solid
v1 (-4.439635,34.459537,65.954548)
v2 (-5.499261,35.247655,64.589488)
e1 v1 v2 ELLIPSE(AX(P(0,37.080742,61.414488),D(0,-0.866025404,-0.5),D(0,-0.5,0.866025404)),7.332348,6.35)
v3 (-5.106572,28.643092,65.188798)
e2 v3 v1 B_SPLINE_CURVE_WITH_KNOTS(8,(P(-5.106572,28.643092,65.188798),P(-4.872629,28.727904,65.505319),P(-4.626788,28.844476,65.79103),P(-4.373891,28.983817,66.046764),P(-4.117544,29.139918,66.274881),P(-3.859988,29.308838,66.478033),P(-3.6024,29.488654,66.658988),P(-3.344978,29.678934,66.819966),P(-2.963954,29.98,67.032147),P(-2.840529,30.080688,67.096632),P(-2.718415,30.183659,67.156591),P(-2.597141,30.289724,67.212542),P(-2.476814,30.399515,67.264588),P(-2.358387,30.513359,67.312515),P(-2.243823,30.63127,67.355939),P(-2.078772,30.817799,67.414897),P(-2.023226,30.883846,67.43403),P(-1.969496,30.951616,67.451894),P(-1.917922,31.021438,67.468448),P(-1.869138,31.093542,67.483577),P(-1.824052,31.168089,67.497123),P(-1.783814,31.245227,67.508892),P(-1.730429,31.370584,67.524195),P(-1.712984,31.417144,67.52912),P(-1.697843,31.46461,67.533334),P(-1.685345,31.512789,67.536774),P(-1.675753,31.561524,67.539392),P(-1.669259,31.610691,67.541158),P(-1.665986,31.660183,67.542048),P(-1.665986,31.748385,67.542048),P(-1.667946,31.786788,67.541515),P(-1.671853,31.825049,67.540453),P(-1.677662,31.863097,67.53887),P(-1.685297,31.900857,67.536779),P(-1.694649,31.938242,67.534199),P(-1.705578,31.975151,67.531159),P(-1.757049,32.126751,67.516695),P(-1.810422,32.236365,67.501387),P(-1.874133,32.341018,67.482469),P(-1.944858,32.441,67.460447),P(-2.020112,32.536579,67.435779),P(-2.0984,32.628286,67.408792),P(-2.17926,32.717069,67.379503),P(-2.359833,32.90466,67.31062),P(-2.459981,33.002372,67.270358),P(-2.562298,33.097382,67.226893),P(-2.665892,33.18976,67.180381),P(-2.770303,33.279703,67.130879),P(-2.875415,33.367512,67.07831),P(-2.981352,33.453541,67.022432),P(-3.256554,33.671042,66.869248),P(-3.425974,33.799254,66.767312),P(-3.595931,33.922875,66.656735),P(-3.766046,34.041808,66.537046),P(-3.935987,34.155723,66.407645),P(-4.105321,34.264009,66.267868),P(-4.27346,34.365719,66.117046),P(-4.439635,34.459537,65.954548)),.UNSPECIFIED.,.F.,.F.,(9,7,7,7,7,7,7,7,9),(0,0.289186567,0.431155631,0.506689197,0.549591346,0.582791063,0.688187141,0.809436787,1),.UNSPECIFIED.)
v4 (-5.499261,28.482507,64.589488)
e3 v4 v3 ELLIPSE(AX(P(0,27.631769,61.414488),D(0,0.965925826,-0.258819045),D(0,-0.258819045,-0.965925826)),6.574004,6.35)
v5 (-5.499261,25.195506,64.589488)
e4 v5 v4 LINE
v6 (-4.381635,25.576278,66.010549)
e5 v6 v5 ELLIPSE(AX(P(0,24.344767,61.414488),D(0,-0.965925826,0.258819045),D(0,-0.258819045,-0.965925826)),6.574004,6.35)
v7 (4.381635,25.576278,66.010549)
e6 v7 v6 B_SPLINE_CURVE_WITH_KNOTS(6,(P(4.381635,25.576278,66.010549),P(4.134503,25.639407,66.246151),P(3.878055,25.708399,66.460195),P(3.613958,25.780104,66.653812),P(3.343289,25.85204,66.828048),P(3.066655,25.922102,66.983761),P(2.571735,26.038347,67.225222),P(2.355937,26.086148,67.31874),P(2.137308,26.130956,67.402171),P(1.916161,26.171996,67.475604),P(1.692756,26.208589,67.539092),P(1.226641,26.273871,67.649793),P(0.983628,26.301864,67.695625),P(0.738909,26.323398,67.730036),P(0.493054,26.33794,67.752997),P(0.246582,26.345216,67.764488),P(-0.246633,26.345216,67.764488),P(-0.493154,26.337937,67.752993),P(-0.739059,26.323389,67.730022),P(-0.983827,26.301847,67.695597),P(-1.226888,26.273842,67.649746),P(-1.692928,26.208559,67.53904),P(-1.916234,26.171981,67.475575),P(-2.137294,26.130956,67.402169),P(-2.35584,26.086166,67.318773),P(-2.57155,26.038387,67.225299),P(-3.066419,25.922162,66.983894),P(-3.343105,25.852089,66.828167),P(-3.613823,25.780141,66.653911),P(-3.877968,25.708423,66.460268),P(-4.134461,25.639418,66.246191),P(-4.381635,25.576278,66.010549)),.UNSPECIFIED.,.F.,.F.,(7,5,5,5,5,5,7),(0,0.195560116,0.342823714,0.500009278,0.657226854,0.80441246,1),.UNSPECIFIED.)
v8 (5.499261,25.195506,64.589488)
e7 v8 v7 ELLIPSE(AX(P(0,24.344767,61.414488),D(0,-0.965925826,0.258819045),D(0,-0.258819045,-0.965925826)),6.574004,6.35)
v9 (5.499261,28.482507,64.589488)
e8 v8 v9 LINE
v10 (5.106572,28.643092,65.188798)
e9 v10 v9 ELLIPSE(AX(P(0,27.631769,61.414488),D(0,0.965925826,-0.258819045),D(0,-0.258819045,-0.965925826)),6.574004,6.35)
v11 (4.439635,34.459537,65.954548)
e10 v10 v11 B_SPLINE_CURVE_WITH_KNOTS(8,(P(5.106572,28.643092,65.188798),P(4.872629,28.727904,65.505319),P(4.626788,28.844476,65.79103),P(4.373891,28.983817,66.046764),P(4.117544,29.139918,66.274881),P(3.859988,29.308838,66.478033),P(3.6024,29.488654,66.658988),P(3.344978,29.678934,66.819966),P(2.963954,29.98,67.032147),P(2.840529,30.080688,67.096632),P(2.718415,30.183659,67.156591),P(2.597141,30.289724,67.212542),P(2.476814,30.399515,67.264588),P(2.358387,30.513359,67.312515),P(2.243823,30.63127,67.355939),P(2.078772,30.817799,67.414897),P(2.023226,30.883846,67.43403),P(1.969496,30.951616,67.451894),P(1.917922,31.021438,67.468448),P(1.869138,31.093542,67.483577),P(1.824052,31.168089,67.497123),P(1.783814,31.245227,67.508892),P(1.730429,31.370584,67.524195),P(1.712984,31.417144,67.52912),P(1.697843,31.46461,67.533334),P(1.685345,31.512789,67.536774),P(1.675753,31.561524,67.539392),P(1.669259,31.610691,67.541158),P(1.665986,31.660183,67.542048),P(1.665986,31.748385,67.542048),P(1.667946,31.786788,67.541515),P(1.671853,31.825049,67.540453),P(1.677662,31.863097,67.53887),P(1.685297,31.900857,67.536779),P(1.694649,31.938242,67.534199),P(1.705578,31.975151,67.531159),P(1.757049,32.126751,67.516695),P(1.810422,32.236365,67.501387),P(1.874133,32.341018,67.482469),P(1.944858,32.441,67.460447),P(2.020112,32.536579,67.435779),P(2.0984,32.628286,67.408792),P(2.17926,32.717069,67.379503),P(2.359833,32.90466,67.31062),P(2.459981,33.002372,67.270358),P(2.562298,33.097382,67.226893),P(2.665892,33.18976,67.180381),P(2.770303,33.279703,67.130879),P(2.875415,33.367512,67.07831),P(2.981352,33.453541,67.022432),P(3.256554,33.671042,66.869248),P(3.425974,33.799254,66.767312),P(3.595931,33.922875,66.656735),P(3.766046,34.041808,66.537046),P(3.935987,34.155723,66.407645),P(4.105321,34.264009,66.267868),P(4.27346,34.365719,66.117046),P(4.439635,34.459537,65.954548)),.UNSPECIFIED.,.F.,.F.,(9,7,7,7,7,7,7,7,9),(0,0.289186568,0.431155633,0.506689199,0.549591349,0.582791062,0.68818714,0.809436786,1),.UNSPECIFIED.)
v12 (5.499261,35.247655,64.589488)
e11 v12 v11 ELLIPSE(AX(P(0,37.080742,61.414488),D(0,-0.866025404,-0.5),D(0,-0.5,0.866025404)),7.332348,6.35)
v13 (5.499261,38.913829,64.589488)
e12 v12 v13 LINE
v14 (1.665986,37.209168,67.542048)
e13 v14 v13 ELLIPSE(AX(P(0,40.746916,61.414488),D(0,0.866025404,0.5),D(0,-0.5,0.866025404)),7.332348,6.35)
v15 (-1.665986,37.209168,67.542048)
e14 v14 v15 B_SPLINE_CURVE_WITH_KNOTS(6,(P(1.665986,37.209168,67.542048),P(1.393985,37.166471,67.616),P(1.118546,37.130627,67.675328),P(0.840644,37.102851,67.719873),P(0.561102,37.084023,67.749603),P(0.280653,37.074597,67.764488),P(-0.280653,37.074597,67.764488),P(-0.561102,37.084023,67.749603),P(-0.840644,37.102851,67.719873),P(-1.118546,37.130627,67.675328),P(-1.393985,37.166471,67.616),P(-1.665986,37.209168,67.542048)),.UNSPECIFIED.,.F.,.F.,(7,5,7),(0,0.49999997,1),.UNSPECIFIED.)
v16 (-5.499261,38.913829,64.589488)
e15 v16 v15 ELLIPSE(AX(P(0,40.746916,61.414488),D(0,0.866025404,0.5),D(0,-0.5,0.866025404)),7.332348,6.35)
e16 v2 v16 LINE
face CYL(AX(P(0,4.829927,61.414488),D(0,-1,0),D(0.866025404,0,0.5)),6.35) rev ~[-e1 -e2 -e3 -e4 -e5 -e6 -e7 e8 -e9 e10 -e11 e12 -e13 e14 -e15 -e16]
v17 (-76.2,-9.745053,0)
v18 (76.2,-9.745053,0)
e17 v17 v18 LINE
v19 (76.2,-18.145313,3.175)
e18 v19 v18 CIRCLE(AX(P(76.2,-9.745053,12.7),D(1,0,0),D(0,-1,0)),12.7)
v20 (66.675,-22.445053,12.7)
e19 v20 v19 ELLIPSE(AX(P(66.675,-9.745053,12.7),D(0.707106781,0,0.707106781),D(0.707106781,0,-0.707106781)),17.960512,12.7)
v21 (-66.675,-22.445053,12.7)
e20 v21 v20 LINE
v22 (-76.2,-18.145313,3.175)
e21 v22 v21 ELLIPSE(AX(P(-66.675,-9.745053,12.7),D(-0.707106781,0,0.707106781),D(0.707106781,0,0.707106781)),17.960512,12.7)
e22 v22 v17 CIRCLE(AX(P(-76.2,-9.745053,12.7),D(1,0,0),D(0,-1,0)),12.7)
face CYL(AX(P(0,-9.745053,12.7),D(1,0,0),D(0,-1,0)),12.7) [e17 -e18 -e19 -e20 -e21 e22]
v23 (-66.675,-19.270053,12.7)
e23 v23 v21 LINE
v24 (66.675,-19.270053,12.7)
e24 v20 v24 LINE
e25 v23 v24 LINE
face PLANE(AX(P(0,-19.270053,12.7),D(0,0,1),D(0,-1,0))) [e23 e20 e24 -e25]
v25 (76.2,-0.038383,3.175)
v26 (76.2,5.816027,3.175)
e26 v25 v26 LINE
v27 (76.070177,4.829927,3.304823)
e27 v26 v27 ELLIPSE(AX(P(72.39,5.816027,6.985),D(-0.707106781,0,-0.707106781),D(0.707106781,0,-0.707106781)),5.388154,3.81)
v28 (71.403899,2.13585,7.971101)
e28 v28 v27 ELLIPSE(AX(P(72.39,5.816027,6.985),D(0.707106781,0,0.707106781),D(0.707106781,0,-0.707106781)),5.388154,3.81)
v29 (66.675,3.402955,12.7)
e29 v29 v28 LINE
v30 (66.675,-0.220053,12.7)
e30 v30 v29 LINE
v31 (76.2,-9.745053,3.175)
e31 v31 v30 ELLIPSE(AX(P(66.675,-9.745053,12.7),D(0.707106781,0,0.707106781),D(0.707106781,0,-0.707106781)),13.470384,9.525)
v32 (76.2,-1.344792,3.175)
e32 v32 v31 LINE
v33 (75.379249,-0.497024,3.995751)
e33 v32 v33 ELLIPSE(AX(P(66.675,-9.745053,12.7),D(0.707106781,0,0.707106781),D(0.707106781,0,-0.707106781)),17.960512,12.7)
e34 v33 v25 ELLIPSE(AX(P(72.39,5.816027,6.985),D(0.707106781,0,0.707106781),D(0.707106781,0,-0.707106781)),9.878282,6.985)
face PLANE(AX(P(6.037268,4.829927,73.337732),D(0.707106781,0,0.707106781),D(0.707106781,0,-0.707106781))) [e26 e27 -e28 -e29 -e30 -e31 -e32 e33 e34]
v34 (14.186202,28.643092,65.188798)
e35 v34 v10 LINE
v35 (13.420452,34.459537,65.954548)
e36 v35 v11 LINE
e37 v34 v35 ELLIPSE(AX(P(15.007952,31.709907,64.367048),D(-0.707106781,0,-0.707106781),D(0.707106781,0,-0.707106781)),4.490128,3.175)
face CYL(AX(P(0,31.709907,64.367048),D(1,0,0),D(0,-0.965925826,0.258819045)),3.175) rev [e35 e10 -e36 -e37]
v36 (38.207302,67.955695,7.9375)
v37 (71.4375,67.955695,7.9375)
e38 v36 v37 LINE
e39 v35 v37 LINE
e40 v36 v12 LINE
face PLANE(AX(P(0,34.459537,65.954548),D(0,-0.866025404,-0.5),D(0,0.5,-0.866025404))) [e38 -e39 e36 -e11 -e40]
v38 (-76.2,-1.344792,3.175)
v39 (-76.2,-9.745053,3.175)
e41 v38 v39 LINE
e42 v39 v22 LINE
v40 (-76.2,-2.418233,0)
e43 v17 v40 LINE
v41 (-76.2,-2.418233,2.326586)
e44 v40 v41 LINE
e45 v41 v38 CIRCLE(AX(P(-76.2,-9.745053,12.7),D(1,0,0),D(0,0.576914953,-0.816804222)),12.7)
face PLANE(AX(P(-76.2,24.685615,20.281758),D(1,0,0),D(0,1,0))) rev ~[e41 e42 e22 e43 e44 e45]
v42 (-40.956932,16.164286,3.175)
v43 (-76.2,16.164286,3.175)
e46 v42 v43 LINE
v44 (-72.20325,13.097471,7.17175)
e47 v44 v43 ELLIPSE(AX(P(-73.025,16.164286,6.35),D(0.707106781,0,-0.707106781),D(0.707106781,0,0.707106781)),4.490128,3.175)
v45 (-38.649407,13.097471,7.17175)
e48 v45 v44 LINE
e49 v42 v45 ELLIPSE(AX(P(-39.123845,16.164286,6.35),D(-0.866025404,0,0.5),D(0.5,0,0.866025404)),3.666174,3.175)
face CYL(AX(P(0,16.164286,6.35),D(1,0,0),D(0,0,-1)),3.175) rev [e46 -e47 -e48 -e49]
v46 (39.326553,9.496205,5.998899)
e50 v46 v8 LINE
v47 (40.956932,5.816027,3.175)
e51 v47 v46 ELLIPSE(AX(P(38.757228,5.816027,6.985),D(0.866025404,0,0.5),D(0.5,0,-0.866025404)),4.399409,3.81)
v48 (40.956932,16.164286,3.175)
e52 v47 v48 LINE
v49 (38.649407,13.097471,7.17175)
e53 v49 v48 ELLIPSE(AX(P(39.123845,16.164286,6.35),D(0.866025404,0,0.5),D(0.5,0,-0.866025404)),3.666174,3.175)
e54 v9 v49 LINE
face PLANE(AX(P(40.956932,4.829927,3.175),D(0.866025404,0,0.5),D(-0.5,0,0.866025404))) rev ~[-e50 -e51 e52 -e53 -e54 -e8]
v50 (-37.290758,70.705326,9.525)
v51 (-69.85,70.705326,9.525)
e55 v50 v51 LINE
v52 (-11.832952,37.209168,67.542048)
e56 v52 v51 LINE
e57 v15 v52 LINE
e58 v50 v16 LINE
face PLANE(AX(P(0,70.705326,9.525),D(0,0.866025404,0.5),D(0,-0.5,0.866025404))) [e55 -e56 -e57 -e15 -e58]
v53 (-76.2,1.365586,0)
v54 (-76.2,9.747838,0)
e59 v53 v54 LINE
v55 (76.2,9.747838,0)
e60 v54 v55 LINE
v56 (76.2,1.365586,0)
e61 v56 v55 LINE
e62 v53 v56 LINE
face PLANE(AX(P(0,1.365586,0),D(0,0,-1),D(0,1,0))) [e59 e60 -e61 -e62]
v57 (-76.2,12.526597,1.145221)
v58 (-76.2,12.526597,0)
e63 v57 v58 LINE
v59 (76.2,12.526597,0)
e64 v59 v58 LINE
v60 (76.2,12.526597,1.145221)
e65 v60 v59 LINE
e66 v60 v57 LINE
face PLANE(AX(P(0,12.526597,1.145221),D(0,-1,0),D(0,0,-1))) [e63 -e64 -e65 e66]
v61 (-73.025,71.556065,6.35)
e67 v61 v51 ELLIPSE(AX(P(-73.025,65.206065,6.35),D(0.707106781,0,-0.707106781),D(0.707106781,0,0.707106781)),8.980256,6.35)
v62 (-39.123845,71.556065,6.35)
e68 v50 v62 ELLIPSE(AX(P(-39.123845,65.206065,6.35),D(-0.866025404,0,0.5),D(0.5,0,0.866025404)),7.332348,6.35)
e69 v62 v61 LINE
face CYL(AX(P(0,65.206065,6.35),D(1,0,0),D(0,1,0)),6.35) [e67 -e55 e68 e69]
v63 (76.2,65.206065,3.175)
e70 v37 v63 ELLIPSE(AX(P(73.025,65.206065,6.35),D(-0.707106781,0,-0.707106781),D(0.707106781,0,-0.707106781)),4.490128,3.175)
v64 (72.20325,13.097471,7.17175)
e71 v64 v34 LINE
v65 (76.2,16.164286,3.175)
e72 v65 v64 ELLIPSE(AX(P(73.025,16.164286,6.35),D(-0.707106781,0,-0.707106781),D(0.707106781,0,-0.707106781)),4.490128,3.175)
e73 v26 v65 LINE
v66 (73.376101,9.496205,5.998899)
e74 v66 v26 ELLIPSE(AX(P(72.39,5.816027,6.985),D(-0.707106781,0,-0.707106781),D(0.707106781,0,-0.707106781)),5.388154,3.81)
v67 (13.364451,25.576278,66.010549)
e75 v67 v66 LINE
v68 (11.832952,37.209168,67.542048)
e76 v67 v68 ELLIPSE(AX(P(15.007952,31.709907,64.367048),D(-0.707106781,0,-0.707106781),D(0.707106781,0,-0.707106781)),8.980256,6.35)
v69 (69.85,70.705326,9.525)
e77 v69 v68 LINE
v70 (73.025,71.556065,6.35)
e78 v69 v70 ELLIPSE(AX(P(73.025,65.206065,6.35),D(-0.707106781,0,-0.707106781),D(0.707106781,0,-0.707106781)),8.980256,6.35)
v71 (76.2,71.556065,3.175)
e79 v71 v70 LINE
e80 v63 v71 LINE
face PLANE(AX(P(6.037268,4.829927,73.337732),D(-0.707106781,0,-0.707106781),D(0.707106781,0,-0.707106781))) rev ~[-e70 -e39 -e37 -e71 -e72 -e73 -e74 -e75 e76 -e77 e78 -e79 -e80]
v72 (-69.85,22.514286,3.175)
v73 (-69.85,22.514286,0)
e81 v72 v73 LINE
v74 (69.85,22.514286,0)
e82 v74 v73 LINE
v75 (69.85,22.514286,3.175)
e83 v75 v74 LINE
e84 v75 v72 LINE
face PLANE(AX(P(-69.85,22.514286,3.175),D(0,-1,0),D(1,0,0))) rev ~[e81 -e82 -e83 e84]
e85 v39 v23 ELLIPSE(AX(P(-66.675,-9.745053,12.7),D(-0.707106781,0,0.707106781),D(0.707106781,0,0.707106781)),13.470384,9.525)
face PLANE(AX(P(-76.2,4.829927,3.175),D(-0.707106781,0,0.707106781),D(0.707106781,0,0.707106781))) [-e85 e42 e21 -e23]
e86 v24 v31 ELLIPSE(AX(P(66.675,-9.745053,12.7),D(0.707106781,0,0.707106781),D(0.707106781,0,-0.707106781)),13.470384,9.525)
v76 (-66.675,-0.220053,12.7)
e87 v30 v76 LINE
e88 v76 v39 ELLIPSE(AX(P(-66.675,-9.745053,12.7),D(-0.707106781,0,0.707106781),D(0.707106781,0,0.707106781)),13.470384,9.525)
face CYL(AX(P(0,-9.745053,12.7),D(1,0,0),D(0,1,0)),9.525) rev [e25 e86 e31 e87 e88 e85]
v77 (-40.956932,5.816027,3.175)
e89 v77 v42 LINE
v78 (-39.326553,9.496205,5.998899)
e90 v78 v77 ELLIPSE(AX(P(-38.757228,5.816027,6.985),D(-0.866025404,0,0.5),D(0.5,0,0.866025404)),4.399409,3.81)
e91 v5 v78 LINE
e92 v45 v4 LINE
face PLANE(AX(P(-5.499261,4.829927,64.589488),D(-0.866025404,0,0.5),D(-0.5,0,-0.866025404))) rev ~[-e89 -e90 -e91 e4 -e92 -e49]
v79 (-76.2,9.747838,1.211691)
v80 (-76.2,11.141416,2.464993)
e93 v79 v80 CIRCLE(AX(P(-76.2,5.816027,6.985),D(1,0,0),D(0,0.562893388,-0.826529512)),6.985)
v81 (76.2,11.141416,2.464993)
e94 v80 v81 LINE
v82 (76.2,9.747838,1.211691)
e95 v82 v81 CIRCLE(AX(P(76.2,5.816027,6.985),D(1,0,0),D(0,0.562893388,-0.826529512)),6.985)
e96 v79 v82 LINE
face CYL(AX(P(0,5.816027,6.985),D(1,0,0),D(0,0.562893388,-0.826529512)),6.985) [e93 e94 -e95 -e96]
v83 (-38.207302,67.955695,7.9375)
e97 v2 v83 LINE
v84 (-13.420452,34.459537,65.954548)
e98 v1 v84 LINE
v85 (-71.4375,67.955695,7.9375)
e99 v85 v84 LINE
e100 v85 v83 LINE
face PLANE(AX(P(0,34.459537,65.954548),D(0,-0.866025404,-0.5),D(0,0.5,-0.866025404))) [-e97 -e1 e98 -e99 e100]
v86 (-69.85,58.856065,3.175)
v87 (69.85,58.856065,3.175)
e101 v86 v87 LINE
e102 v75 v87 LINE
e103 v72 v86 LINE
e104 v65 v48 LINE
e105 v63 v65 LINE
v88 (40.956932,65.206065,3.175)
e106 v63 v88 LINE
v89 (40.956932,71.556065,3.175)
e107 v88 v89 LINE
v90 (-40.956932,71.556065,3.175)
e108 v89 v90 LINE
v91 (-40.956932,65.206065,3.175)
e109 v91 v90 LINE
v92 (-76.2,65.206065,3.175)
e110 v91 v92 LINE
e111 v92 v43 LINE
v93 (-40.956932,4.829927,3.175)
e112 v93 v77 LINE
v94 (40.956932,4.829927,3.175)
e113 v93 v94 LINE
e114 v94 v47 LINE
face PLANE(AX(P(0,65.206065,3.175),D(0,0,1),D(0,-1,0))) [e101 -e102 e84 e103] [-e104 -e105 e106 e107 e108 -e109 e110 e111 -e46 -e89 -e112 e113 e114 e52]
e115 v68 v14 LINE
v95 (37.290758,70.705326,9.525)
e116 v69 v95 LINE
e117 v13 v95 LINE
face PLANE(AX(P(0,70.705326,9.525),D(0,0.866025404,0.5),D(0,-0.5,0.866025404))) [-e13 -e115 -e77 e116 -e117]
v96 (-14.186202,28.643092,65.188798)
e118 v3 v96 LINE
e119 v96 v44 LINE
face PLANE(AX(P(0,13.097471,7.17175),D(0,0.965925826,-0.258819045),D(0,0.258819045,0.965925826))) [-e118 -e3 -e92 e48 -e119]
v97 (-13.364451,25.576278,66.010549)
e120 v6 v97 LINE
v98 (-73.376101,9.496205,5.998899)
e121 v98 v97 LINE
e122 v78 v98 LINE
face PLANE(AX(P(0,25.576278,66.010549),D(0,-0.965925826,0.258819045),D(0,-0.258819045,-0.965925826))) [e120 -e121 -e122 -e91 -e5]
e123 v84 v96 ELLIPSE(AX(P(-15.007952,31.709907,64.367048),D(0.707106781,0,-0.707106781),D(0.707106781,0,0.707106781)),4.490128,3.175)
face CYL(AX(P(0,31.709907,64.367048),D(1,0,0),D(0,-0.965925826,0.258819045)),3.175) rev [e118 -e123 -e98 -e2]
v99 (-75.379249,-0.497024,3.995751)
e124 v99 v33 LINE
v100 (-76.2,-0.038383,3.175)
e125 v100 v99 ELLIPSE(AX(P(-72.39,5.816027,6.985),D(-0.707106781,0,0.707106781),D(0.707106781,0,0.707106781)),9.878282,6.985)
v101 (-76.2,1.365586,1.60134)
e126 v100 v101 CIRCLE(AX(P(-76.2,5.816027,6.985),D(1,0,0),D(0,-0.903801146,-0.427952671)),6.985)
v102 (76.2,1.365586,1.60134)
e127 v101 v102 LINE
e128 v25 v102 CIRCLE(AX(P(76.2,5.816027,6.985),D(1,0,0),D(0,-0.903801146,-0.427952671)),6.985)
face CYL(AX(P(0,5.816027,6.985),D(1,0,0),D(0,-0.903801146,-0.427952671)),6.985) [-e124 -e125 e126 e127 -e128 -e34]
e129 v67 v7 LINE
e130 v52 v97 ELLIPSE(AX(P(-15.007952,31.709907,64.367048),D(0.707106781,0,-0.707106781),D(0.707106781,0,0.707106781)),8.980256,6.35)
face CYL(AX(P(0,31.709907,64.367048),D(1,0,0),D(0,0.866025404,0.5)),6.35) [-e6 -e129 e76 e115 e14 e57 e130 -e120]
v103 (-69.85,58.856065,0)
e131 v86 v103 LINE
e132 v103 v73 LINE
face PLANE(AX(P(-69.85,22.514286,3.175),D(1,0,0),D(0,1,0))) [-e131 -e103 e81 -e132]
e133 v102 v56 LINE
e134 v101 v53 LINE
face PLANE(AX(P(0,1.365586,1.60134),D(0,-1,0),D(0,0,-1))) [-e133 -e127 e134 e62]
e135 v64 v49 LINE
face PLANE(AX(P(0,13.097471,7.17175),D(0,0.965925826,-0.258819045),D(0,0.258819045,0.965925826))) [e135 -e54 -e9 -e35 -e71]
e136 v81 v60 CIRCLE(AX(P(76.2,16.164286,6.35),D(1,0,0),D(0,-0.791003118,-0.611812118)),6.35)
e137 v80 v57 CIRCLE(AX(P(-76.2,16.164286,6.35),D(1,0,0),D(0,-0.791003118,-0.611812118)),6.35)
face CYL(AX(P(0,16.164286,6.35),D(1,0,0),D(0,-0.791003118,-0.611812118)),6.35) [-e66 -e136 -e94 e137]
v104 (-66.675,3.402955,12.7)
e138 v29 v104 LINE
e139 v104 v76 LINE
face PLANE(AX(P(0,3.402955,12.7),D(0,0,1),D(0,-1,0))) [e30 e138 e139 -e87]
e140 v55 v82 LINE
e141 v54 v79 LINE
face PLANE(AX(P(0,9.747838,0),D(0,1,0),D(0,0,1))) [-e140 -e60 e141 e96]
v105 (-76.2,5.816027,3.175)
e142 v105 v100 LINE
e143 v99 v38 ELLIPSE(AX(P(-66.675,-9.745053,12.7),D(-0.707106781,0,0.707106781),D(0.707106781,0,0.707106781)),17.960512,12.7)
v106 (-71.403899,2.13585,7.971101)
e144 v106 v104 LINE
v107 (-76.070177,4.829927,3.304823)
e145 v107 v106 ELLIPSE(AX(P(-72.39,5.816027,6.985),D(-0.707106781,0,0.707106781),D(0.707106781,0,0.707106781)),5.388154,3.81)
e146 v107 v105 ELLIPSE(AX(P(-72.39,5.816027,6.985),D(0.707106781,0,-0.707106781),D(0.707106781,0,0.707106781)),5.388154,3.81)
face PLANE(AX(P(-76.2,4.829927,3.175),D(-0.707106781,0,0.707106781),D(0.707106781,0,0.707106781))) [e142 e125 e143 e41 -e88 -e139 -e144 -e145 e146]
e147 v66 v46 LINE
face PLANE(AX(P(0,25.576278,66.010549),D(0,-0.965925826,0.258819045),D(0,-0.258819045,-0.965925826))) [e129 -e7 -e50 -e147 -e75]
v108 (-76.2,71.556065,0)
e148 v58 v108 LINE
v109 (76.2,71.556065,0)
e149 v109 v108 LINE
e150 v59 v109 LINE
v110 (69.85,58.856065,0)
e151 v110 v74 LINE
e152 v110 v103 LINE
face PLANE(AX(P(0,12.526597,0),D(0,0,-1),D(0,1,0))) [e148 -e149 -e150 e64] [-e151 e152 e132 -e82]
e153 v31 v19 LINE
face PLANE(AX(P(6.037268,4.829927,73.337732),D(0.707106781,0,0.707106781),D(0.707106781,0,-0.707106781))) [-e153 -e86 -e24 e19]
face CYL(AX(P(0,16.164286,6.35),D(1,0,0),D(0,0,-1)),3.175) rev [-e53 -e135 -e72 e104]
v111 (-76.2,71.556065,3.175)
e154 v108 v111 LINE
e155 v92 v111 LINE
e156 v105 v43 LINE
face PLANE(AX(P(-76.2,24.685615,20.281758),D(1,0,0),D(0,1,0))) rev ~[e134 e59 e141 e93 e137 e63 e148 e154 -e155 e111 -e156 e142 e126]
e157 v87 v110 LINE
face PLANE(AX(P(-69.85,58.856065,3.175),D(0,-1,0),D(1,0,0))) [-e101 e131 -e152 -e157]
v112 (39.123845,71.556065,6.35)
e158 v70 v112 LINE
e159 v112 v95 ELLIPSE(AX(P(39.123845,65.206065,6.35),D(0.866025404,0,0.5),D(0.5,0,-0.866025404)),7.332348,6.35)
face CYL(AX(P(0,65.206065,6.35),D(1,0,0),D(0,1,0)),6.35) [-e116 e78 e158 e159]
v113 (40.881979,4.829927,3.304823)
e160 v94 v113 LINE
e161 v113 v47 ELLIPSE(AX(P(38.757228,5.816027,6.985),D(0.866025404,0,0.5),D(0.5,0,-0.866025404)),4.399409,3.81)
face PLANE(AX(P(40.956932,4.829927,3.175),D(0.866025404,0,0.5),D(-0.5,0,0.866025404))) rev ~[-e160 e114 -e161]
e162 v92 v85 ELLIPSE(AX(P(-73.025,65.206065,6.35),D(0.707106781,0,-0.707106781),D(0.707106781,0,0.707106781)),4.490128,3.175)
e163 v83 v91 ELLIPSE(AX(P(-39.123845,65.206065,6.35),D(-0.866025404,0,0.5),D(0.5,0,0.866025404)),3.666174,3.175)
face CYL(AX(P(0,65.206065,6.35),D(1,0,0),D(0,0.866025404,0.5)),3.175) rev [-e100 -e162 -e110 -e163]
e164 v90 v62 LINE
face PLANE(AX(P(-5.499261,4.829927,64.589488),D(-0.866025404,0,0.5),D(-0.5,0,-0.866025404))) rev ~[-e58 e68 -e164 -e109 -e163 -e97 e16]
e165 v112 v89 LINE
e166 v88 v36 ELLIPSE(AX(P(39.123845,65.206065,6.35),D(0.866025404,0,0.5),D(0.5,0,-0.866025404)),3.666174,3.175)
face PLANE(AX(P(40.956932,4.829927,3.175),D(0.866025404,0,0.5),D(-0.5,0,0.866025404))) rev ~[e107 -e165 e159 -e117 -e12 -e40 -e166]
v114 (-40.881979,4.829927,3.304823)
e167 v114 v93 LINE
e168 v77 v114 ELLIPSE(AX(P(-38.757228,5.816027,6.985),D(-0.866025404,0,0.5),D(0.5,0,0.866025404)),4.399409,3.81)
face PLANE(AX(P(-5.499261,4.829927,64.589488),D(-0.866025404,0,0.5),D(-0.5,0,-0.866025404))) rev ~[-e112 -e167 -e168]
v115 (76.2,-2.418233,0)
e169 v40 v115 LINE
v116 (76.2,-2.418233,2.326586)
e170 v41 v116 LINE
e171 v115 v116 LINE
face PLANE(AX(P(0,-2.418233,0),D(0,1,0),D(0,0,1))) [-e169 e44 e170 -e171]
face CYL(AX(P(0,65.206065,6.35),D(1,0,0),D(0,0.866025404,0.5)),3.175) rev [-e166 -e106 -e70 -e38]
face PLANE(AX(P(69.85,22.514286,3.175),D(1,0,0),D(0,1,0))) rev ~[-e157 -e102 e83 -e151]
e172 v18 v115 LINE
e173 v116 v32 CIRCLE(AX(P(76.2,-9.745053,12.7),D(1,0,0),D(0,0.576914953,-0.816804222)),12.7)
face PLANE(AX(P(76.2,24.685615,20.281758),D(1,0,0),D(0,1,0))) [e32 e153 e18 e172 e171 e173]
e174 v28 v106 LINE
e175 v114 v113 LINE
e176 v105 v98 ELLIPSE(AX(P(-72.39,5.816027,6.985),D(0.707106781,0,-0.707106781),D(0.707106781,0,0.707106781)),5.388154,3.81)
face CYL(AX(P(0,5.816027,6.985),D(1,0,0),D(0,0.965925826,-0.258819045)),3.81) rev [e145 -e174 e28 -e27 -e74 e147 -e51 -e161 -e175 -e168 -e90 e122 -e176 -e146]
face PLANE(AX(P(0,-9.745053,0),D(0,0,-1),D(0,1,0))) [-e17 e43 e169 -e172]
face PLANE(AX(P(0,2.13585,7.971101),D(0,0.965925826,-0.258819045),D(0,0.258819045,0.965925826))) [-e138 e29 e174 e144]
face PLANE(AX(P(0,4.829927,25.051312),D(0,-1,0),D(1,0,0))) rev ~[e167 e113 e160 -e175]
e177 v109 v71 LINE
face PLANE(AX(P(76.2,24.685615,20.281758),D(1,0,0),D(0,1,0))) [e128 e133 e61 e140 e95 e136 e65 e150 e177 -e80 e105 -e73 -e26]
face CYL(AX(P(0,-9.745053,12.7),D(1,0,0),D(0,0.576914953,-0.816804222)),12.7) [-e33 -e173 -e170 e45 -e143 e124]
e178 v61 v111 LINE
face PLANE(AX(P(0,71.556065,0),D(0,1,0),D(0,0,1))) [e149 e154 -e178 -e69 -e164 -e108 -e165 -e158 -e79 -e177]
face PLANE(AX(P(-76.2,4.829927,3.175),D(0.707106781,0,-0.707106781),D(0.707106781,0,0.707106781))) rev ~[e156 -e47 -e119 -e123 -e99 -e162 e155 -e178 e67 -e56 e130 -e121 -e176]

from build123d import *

# Parameters (mm, degrees)
F1_DEPTH      = 76.2
F2_W          = 139.7
F2_H          = 36.3417792003
F3_DEPTH      = 25.4
F7_DEPTH      = 27.275979542
F7_DEPTH_BACK = 66.7271380179
F9_DEPTH      = 66.7271380179


with BuildPart() as f1:
    # F0 (on Right) → F1 (new body, symmetric)
    with BuildSketch(Plane.YZ):
        with BuildLine():
            ThreePointArc((-0.2200527473, 12.7), (-9.7450527473, 3.175), (-19.2700527473, 12.7))
            Line((-19.2700527473, 12.7), (-22.4450527473, 12.7))
            ThreePointArc((-22.4450527473, 12.7), (-18.7253088684, 3.7197438789), (-9.7450527473, 0))
            Line((-9.7450527473, 0), (-2.4182328489, 0))
            Line((-2.4182328489, 0), (-2.4182328489, 2.3265863779))
            ThreePointArc((-2.4182328489, 2.3265863779), (-1.4157111092, 3.1129218281), (-0.4970236472, 3.9957505917))
            ThreePointArc((-0.4970236472, 3.9957505917), (0.3027257677, 2.6962087261), (1.3655856019, 1.6013401678))
            Line((1.3655856019, 1.6013401678), (1.3655856019, 0))
            Line((1.3655856019, 0), (9.7478376701, 0))
            Line((9.7478376701, 0), (9.7478376701, 1.2116913596))
            ThreePointArc((9.7478376701, 1.2116913596), (10.4868542157, 1.7913884), (11.1414158123, 2.4649930537))
            ThreePointArc((11.1414158123, 2.4649930537), (11.784015325, 1.75263856), (12.5265968964, 1.145221349))
            Line((12.5265968964, 1.145221349), (12.5265968964, 0))
            Line((12.5265968964, 0), (16.1642856123, 0))
            Line((16.1642856123, 0), (71.5560648125, 0))
            Line((71.5560648125, 0), (71.5560648125, 6.35))
            ThreePointArc((71.5560648125, 6.35), (71.3396938095, 7.9935009364), (70.7053261266, 9.525))
            Line((70.7053261266, 9.525), (37.2091680094, 67.5420477173))
            ThreePointArc((37.2091680094, 67.5420477173), (30.8810653748, 70.662722587), (25.5762776984, 66.0105486537))
            Line((25.5762776984, 66.0105486537), (9.4962047547, 5.9988994382))
            ThreePointArc((9.4962047547, 5.9988994382), (4.8299267947, 3.3048226018), (2.1358499583, 7.9711005618))
            Line((2.1358499583, 7.9711005618), (3.4029547439, 12.7))
            Line((3.4029547439, 12.7), (-0.2200527473, 12.7))
        make_face()
        with BuildLine():
            ThreePointArc((67.9556954695, 7.9375), (67.9556954695, 4.7625), (65.2060648125, 3.175))
            Line((65.2060648125, 3.175), (16.1642856123, 3.175))
            ThreePointArc((16.1642856123, 3.175), (13.6453887568, 4.4171824629), (13.0974711138, 7.1717504682))
            Line((13.0974711138, 7.1717504682), (28.6430921969, 65.1887981855))
            ThreePointArc((28.6430921969, 65.1887981855), (31.2954860351, 67.5148851522), (34.4595373524, 65.9545477173))
            Line((34.4595373524, 65.9545477173), (67.9556954695, 7.9375))
        make_face(mode=Mode.SUBTRACT)
    extrude(amount=F1_DEPTH, both=True)

    # F2 (on face) → F3 (cut)
    with BuildSketch(Plane.XY.offset(3.175)):
        with Locations((0, 40.6851752124)):
            Rectangle(F2_W, F2_H)
    extrude(amount=-F3_DEPTH, mode=Mode.SUBTRACT)

    # F6 (on plane+point) → F7 (cut, two sides)
    with BuildSketch(Plane.XZ.offset(-4.8299267947)) as f7_sk:
        Polygon((76.2, 73.3377320159), (6.0372679841, 73.3377320159), (76.2, 3.175), align=None)
        Polygon((-76.2, 3.175), (-6.0372679841, 73.3377320159), (-76.2, 73.3377320159), align=None)
    extrude(amount=F7_DEPTH, mode=Mode.SUBTRACT)
    extrude(f7_sk.sketch, amount=-F7_DEPTH_BACK, mode=Mode.SUBTRACT)

    # F8 (on plane+point) → F9 (cut, through all)
    with BuildSketch(Plane.XZ.offset(-4.8299267947)):
        with BuildLine():
            Line((-5.499261314, 64.5894877579), (-40.9569323532, 3.175))
            Line((-40.9569323532, 3.175), (40.9569323532, 3.175))
            Line((40.9569323532, 3.175), (5.499261314, 64.5894877579))
            ThreePointArc((5.499261314, 64.5894877579), (0, 67.7644877579), (-5.499261314, 64.5894877579))
        make_face()
    extrude(amount=-F9_DEPTH, mode=Mode.SUBTRACT)


solid = f1.part
